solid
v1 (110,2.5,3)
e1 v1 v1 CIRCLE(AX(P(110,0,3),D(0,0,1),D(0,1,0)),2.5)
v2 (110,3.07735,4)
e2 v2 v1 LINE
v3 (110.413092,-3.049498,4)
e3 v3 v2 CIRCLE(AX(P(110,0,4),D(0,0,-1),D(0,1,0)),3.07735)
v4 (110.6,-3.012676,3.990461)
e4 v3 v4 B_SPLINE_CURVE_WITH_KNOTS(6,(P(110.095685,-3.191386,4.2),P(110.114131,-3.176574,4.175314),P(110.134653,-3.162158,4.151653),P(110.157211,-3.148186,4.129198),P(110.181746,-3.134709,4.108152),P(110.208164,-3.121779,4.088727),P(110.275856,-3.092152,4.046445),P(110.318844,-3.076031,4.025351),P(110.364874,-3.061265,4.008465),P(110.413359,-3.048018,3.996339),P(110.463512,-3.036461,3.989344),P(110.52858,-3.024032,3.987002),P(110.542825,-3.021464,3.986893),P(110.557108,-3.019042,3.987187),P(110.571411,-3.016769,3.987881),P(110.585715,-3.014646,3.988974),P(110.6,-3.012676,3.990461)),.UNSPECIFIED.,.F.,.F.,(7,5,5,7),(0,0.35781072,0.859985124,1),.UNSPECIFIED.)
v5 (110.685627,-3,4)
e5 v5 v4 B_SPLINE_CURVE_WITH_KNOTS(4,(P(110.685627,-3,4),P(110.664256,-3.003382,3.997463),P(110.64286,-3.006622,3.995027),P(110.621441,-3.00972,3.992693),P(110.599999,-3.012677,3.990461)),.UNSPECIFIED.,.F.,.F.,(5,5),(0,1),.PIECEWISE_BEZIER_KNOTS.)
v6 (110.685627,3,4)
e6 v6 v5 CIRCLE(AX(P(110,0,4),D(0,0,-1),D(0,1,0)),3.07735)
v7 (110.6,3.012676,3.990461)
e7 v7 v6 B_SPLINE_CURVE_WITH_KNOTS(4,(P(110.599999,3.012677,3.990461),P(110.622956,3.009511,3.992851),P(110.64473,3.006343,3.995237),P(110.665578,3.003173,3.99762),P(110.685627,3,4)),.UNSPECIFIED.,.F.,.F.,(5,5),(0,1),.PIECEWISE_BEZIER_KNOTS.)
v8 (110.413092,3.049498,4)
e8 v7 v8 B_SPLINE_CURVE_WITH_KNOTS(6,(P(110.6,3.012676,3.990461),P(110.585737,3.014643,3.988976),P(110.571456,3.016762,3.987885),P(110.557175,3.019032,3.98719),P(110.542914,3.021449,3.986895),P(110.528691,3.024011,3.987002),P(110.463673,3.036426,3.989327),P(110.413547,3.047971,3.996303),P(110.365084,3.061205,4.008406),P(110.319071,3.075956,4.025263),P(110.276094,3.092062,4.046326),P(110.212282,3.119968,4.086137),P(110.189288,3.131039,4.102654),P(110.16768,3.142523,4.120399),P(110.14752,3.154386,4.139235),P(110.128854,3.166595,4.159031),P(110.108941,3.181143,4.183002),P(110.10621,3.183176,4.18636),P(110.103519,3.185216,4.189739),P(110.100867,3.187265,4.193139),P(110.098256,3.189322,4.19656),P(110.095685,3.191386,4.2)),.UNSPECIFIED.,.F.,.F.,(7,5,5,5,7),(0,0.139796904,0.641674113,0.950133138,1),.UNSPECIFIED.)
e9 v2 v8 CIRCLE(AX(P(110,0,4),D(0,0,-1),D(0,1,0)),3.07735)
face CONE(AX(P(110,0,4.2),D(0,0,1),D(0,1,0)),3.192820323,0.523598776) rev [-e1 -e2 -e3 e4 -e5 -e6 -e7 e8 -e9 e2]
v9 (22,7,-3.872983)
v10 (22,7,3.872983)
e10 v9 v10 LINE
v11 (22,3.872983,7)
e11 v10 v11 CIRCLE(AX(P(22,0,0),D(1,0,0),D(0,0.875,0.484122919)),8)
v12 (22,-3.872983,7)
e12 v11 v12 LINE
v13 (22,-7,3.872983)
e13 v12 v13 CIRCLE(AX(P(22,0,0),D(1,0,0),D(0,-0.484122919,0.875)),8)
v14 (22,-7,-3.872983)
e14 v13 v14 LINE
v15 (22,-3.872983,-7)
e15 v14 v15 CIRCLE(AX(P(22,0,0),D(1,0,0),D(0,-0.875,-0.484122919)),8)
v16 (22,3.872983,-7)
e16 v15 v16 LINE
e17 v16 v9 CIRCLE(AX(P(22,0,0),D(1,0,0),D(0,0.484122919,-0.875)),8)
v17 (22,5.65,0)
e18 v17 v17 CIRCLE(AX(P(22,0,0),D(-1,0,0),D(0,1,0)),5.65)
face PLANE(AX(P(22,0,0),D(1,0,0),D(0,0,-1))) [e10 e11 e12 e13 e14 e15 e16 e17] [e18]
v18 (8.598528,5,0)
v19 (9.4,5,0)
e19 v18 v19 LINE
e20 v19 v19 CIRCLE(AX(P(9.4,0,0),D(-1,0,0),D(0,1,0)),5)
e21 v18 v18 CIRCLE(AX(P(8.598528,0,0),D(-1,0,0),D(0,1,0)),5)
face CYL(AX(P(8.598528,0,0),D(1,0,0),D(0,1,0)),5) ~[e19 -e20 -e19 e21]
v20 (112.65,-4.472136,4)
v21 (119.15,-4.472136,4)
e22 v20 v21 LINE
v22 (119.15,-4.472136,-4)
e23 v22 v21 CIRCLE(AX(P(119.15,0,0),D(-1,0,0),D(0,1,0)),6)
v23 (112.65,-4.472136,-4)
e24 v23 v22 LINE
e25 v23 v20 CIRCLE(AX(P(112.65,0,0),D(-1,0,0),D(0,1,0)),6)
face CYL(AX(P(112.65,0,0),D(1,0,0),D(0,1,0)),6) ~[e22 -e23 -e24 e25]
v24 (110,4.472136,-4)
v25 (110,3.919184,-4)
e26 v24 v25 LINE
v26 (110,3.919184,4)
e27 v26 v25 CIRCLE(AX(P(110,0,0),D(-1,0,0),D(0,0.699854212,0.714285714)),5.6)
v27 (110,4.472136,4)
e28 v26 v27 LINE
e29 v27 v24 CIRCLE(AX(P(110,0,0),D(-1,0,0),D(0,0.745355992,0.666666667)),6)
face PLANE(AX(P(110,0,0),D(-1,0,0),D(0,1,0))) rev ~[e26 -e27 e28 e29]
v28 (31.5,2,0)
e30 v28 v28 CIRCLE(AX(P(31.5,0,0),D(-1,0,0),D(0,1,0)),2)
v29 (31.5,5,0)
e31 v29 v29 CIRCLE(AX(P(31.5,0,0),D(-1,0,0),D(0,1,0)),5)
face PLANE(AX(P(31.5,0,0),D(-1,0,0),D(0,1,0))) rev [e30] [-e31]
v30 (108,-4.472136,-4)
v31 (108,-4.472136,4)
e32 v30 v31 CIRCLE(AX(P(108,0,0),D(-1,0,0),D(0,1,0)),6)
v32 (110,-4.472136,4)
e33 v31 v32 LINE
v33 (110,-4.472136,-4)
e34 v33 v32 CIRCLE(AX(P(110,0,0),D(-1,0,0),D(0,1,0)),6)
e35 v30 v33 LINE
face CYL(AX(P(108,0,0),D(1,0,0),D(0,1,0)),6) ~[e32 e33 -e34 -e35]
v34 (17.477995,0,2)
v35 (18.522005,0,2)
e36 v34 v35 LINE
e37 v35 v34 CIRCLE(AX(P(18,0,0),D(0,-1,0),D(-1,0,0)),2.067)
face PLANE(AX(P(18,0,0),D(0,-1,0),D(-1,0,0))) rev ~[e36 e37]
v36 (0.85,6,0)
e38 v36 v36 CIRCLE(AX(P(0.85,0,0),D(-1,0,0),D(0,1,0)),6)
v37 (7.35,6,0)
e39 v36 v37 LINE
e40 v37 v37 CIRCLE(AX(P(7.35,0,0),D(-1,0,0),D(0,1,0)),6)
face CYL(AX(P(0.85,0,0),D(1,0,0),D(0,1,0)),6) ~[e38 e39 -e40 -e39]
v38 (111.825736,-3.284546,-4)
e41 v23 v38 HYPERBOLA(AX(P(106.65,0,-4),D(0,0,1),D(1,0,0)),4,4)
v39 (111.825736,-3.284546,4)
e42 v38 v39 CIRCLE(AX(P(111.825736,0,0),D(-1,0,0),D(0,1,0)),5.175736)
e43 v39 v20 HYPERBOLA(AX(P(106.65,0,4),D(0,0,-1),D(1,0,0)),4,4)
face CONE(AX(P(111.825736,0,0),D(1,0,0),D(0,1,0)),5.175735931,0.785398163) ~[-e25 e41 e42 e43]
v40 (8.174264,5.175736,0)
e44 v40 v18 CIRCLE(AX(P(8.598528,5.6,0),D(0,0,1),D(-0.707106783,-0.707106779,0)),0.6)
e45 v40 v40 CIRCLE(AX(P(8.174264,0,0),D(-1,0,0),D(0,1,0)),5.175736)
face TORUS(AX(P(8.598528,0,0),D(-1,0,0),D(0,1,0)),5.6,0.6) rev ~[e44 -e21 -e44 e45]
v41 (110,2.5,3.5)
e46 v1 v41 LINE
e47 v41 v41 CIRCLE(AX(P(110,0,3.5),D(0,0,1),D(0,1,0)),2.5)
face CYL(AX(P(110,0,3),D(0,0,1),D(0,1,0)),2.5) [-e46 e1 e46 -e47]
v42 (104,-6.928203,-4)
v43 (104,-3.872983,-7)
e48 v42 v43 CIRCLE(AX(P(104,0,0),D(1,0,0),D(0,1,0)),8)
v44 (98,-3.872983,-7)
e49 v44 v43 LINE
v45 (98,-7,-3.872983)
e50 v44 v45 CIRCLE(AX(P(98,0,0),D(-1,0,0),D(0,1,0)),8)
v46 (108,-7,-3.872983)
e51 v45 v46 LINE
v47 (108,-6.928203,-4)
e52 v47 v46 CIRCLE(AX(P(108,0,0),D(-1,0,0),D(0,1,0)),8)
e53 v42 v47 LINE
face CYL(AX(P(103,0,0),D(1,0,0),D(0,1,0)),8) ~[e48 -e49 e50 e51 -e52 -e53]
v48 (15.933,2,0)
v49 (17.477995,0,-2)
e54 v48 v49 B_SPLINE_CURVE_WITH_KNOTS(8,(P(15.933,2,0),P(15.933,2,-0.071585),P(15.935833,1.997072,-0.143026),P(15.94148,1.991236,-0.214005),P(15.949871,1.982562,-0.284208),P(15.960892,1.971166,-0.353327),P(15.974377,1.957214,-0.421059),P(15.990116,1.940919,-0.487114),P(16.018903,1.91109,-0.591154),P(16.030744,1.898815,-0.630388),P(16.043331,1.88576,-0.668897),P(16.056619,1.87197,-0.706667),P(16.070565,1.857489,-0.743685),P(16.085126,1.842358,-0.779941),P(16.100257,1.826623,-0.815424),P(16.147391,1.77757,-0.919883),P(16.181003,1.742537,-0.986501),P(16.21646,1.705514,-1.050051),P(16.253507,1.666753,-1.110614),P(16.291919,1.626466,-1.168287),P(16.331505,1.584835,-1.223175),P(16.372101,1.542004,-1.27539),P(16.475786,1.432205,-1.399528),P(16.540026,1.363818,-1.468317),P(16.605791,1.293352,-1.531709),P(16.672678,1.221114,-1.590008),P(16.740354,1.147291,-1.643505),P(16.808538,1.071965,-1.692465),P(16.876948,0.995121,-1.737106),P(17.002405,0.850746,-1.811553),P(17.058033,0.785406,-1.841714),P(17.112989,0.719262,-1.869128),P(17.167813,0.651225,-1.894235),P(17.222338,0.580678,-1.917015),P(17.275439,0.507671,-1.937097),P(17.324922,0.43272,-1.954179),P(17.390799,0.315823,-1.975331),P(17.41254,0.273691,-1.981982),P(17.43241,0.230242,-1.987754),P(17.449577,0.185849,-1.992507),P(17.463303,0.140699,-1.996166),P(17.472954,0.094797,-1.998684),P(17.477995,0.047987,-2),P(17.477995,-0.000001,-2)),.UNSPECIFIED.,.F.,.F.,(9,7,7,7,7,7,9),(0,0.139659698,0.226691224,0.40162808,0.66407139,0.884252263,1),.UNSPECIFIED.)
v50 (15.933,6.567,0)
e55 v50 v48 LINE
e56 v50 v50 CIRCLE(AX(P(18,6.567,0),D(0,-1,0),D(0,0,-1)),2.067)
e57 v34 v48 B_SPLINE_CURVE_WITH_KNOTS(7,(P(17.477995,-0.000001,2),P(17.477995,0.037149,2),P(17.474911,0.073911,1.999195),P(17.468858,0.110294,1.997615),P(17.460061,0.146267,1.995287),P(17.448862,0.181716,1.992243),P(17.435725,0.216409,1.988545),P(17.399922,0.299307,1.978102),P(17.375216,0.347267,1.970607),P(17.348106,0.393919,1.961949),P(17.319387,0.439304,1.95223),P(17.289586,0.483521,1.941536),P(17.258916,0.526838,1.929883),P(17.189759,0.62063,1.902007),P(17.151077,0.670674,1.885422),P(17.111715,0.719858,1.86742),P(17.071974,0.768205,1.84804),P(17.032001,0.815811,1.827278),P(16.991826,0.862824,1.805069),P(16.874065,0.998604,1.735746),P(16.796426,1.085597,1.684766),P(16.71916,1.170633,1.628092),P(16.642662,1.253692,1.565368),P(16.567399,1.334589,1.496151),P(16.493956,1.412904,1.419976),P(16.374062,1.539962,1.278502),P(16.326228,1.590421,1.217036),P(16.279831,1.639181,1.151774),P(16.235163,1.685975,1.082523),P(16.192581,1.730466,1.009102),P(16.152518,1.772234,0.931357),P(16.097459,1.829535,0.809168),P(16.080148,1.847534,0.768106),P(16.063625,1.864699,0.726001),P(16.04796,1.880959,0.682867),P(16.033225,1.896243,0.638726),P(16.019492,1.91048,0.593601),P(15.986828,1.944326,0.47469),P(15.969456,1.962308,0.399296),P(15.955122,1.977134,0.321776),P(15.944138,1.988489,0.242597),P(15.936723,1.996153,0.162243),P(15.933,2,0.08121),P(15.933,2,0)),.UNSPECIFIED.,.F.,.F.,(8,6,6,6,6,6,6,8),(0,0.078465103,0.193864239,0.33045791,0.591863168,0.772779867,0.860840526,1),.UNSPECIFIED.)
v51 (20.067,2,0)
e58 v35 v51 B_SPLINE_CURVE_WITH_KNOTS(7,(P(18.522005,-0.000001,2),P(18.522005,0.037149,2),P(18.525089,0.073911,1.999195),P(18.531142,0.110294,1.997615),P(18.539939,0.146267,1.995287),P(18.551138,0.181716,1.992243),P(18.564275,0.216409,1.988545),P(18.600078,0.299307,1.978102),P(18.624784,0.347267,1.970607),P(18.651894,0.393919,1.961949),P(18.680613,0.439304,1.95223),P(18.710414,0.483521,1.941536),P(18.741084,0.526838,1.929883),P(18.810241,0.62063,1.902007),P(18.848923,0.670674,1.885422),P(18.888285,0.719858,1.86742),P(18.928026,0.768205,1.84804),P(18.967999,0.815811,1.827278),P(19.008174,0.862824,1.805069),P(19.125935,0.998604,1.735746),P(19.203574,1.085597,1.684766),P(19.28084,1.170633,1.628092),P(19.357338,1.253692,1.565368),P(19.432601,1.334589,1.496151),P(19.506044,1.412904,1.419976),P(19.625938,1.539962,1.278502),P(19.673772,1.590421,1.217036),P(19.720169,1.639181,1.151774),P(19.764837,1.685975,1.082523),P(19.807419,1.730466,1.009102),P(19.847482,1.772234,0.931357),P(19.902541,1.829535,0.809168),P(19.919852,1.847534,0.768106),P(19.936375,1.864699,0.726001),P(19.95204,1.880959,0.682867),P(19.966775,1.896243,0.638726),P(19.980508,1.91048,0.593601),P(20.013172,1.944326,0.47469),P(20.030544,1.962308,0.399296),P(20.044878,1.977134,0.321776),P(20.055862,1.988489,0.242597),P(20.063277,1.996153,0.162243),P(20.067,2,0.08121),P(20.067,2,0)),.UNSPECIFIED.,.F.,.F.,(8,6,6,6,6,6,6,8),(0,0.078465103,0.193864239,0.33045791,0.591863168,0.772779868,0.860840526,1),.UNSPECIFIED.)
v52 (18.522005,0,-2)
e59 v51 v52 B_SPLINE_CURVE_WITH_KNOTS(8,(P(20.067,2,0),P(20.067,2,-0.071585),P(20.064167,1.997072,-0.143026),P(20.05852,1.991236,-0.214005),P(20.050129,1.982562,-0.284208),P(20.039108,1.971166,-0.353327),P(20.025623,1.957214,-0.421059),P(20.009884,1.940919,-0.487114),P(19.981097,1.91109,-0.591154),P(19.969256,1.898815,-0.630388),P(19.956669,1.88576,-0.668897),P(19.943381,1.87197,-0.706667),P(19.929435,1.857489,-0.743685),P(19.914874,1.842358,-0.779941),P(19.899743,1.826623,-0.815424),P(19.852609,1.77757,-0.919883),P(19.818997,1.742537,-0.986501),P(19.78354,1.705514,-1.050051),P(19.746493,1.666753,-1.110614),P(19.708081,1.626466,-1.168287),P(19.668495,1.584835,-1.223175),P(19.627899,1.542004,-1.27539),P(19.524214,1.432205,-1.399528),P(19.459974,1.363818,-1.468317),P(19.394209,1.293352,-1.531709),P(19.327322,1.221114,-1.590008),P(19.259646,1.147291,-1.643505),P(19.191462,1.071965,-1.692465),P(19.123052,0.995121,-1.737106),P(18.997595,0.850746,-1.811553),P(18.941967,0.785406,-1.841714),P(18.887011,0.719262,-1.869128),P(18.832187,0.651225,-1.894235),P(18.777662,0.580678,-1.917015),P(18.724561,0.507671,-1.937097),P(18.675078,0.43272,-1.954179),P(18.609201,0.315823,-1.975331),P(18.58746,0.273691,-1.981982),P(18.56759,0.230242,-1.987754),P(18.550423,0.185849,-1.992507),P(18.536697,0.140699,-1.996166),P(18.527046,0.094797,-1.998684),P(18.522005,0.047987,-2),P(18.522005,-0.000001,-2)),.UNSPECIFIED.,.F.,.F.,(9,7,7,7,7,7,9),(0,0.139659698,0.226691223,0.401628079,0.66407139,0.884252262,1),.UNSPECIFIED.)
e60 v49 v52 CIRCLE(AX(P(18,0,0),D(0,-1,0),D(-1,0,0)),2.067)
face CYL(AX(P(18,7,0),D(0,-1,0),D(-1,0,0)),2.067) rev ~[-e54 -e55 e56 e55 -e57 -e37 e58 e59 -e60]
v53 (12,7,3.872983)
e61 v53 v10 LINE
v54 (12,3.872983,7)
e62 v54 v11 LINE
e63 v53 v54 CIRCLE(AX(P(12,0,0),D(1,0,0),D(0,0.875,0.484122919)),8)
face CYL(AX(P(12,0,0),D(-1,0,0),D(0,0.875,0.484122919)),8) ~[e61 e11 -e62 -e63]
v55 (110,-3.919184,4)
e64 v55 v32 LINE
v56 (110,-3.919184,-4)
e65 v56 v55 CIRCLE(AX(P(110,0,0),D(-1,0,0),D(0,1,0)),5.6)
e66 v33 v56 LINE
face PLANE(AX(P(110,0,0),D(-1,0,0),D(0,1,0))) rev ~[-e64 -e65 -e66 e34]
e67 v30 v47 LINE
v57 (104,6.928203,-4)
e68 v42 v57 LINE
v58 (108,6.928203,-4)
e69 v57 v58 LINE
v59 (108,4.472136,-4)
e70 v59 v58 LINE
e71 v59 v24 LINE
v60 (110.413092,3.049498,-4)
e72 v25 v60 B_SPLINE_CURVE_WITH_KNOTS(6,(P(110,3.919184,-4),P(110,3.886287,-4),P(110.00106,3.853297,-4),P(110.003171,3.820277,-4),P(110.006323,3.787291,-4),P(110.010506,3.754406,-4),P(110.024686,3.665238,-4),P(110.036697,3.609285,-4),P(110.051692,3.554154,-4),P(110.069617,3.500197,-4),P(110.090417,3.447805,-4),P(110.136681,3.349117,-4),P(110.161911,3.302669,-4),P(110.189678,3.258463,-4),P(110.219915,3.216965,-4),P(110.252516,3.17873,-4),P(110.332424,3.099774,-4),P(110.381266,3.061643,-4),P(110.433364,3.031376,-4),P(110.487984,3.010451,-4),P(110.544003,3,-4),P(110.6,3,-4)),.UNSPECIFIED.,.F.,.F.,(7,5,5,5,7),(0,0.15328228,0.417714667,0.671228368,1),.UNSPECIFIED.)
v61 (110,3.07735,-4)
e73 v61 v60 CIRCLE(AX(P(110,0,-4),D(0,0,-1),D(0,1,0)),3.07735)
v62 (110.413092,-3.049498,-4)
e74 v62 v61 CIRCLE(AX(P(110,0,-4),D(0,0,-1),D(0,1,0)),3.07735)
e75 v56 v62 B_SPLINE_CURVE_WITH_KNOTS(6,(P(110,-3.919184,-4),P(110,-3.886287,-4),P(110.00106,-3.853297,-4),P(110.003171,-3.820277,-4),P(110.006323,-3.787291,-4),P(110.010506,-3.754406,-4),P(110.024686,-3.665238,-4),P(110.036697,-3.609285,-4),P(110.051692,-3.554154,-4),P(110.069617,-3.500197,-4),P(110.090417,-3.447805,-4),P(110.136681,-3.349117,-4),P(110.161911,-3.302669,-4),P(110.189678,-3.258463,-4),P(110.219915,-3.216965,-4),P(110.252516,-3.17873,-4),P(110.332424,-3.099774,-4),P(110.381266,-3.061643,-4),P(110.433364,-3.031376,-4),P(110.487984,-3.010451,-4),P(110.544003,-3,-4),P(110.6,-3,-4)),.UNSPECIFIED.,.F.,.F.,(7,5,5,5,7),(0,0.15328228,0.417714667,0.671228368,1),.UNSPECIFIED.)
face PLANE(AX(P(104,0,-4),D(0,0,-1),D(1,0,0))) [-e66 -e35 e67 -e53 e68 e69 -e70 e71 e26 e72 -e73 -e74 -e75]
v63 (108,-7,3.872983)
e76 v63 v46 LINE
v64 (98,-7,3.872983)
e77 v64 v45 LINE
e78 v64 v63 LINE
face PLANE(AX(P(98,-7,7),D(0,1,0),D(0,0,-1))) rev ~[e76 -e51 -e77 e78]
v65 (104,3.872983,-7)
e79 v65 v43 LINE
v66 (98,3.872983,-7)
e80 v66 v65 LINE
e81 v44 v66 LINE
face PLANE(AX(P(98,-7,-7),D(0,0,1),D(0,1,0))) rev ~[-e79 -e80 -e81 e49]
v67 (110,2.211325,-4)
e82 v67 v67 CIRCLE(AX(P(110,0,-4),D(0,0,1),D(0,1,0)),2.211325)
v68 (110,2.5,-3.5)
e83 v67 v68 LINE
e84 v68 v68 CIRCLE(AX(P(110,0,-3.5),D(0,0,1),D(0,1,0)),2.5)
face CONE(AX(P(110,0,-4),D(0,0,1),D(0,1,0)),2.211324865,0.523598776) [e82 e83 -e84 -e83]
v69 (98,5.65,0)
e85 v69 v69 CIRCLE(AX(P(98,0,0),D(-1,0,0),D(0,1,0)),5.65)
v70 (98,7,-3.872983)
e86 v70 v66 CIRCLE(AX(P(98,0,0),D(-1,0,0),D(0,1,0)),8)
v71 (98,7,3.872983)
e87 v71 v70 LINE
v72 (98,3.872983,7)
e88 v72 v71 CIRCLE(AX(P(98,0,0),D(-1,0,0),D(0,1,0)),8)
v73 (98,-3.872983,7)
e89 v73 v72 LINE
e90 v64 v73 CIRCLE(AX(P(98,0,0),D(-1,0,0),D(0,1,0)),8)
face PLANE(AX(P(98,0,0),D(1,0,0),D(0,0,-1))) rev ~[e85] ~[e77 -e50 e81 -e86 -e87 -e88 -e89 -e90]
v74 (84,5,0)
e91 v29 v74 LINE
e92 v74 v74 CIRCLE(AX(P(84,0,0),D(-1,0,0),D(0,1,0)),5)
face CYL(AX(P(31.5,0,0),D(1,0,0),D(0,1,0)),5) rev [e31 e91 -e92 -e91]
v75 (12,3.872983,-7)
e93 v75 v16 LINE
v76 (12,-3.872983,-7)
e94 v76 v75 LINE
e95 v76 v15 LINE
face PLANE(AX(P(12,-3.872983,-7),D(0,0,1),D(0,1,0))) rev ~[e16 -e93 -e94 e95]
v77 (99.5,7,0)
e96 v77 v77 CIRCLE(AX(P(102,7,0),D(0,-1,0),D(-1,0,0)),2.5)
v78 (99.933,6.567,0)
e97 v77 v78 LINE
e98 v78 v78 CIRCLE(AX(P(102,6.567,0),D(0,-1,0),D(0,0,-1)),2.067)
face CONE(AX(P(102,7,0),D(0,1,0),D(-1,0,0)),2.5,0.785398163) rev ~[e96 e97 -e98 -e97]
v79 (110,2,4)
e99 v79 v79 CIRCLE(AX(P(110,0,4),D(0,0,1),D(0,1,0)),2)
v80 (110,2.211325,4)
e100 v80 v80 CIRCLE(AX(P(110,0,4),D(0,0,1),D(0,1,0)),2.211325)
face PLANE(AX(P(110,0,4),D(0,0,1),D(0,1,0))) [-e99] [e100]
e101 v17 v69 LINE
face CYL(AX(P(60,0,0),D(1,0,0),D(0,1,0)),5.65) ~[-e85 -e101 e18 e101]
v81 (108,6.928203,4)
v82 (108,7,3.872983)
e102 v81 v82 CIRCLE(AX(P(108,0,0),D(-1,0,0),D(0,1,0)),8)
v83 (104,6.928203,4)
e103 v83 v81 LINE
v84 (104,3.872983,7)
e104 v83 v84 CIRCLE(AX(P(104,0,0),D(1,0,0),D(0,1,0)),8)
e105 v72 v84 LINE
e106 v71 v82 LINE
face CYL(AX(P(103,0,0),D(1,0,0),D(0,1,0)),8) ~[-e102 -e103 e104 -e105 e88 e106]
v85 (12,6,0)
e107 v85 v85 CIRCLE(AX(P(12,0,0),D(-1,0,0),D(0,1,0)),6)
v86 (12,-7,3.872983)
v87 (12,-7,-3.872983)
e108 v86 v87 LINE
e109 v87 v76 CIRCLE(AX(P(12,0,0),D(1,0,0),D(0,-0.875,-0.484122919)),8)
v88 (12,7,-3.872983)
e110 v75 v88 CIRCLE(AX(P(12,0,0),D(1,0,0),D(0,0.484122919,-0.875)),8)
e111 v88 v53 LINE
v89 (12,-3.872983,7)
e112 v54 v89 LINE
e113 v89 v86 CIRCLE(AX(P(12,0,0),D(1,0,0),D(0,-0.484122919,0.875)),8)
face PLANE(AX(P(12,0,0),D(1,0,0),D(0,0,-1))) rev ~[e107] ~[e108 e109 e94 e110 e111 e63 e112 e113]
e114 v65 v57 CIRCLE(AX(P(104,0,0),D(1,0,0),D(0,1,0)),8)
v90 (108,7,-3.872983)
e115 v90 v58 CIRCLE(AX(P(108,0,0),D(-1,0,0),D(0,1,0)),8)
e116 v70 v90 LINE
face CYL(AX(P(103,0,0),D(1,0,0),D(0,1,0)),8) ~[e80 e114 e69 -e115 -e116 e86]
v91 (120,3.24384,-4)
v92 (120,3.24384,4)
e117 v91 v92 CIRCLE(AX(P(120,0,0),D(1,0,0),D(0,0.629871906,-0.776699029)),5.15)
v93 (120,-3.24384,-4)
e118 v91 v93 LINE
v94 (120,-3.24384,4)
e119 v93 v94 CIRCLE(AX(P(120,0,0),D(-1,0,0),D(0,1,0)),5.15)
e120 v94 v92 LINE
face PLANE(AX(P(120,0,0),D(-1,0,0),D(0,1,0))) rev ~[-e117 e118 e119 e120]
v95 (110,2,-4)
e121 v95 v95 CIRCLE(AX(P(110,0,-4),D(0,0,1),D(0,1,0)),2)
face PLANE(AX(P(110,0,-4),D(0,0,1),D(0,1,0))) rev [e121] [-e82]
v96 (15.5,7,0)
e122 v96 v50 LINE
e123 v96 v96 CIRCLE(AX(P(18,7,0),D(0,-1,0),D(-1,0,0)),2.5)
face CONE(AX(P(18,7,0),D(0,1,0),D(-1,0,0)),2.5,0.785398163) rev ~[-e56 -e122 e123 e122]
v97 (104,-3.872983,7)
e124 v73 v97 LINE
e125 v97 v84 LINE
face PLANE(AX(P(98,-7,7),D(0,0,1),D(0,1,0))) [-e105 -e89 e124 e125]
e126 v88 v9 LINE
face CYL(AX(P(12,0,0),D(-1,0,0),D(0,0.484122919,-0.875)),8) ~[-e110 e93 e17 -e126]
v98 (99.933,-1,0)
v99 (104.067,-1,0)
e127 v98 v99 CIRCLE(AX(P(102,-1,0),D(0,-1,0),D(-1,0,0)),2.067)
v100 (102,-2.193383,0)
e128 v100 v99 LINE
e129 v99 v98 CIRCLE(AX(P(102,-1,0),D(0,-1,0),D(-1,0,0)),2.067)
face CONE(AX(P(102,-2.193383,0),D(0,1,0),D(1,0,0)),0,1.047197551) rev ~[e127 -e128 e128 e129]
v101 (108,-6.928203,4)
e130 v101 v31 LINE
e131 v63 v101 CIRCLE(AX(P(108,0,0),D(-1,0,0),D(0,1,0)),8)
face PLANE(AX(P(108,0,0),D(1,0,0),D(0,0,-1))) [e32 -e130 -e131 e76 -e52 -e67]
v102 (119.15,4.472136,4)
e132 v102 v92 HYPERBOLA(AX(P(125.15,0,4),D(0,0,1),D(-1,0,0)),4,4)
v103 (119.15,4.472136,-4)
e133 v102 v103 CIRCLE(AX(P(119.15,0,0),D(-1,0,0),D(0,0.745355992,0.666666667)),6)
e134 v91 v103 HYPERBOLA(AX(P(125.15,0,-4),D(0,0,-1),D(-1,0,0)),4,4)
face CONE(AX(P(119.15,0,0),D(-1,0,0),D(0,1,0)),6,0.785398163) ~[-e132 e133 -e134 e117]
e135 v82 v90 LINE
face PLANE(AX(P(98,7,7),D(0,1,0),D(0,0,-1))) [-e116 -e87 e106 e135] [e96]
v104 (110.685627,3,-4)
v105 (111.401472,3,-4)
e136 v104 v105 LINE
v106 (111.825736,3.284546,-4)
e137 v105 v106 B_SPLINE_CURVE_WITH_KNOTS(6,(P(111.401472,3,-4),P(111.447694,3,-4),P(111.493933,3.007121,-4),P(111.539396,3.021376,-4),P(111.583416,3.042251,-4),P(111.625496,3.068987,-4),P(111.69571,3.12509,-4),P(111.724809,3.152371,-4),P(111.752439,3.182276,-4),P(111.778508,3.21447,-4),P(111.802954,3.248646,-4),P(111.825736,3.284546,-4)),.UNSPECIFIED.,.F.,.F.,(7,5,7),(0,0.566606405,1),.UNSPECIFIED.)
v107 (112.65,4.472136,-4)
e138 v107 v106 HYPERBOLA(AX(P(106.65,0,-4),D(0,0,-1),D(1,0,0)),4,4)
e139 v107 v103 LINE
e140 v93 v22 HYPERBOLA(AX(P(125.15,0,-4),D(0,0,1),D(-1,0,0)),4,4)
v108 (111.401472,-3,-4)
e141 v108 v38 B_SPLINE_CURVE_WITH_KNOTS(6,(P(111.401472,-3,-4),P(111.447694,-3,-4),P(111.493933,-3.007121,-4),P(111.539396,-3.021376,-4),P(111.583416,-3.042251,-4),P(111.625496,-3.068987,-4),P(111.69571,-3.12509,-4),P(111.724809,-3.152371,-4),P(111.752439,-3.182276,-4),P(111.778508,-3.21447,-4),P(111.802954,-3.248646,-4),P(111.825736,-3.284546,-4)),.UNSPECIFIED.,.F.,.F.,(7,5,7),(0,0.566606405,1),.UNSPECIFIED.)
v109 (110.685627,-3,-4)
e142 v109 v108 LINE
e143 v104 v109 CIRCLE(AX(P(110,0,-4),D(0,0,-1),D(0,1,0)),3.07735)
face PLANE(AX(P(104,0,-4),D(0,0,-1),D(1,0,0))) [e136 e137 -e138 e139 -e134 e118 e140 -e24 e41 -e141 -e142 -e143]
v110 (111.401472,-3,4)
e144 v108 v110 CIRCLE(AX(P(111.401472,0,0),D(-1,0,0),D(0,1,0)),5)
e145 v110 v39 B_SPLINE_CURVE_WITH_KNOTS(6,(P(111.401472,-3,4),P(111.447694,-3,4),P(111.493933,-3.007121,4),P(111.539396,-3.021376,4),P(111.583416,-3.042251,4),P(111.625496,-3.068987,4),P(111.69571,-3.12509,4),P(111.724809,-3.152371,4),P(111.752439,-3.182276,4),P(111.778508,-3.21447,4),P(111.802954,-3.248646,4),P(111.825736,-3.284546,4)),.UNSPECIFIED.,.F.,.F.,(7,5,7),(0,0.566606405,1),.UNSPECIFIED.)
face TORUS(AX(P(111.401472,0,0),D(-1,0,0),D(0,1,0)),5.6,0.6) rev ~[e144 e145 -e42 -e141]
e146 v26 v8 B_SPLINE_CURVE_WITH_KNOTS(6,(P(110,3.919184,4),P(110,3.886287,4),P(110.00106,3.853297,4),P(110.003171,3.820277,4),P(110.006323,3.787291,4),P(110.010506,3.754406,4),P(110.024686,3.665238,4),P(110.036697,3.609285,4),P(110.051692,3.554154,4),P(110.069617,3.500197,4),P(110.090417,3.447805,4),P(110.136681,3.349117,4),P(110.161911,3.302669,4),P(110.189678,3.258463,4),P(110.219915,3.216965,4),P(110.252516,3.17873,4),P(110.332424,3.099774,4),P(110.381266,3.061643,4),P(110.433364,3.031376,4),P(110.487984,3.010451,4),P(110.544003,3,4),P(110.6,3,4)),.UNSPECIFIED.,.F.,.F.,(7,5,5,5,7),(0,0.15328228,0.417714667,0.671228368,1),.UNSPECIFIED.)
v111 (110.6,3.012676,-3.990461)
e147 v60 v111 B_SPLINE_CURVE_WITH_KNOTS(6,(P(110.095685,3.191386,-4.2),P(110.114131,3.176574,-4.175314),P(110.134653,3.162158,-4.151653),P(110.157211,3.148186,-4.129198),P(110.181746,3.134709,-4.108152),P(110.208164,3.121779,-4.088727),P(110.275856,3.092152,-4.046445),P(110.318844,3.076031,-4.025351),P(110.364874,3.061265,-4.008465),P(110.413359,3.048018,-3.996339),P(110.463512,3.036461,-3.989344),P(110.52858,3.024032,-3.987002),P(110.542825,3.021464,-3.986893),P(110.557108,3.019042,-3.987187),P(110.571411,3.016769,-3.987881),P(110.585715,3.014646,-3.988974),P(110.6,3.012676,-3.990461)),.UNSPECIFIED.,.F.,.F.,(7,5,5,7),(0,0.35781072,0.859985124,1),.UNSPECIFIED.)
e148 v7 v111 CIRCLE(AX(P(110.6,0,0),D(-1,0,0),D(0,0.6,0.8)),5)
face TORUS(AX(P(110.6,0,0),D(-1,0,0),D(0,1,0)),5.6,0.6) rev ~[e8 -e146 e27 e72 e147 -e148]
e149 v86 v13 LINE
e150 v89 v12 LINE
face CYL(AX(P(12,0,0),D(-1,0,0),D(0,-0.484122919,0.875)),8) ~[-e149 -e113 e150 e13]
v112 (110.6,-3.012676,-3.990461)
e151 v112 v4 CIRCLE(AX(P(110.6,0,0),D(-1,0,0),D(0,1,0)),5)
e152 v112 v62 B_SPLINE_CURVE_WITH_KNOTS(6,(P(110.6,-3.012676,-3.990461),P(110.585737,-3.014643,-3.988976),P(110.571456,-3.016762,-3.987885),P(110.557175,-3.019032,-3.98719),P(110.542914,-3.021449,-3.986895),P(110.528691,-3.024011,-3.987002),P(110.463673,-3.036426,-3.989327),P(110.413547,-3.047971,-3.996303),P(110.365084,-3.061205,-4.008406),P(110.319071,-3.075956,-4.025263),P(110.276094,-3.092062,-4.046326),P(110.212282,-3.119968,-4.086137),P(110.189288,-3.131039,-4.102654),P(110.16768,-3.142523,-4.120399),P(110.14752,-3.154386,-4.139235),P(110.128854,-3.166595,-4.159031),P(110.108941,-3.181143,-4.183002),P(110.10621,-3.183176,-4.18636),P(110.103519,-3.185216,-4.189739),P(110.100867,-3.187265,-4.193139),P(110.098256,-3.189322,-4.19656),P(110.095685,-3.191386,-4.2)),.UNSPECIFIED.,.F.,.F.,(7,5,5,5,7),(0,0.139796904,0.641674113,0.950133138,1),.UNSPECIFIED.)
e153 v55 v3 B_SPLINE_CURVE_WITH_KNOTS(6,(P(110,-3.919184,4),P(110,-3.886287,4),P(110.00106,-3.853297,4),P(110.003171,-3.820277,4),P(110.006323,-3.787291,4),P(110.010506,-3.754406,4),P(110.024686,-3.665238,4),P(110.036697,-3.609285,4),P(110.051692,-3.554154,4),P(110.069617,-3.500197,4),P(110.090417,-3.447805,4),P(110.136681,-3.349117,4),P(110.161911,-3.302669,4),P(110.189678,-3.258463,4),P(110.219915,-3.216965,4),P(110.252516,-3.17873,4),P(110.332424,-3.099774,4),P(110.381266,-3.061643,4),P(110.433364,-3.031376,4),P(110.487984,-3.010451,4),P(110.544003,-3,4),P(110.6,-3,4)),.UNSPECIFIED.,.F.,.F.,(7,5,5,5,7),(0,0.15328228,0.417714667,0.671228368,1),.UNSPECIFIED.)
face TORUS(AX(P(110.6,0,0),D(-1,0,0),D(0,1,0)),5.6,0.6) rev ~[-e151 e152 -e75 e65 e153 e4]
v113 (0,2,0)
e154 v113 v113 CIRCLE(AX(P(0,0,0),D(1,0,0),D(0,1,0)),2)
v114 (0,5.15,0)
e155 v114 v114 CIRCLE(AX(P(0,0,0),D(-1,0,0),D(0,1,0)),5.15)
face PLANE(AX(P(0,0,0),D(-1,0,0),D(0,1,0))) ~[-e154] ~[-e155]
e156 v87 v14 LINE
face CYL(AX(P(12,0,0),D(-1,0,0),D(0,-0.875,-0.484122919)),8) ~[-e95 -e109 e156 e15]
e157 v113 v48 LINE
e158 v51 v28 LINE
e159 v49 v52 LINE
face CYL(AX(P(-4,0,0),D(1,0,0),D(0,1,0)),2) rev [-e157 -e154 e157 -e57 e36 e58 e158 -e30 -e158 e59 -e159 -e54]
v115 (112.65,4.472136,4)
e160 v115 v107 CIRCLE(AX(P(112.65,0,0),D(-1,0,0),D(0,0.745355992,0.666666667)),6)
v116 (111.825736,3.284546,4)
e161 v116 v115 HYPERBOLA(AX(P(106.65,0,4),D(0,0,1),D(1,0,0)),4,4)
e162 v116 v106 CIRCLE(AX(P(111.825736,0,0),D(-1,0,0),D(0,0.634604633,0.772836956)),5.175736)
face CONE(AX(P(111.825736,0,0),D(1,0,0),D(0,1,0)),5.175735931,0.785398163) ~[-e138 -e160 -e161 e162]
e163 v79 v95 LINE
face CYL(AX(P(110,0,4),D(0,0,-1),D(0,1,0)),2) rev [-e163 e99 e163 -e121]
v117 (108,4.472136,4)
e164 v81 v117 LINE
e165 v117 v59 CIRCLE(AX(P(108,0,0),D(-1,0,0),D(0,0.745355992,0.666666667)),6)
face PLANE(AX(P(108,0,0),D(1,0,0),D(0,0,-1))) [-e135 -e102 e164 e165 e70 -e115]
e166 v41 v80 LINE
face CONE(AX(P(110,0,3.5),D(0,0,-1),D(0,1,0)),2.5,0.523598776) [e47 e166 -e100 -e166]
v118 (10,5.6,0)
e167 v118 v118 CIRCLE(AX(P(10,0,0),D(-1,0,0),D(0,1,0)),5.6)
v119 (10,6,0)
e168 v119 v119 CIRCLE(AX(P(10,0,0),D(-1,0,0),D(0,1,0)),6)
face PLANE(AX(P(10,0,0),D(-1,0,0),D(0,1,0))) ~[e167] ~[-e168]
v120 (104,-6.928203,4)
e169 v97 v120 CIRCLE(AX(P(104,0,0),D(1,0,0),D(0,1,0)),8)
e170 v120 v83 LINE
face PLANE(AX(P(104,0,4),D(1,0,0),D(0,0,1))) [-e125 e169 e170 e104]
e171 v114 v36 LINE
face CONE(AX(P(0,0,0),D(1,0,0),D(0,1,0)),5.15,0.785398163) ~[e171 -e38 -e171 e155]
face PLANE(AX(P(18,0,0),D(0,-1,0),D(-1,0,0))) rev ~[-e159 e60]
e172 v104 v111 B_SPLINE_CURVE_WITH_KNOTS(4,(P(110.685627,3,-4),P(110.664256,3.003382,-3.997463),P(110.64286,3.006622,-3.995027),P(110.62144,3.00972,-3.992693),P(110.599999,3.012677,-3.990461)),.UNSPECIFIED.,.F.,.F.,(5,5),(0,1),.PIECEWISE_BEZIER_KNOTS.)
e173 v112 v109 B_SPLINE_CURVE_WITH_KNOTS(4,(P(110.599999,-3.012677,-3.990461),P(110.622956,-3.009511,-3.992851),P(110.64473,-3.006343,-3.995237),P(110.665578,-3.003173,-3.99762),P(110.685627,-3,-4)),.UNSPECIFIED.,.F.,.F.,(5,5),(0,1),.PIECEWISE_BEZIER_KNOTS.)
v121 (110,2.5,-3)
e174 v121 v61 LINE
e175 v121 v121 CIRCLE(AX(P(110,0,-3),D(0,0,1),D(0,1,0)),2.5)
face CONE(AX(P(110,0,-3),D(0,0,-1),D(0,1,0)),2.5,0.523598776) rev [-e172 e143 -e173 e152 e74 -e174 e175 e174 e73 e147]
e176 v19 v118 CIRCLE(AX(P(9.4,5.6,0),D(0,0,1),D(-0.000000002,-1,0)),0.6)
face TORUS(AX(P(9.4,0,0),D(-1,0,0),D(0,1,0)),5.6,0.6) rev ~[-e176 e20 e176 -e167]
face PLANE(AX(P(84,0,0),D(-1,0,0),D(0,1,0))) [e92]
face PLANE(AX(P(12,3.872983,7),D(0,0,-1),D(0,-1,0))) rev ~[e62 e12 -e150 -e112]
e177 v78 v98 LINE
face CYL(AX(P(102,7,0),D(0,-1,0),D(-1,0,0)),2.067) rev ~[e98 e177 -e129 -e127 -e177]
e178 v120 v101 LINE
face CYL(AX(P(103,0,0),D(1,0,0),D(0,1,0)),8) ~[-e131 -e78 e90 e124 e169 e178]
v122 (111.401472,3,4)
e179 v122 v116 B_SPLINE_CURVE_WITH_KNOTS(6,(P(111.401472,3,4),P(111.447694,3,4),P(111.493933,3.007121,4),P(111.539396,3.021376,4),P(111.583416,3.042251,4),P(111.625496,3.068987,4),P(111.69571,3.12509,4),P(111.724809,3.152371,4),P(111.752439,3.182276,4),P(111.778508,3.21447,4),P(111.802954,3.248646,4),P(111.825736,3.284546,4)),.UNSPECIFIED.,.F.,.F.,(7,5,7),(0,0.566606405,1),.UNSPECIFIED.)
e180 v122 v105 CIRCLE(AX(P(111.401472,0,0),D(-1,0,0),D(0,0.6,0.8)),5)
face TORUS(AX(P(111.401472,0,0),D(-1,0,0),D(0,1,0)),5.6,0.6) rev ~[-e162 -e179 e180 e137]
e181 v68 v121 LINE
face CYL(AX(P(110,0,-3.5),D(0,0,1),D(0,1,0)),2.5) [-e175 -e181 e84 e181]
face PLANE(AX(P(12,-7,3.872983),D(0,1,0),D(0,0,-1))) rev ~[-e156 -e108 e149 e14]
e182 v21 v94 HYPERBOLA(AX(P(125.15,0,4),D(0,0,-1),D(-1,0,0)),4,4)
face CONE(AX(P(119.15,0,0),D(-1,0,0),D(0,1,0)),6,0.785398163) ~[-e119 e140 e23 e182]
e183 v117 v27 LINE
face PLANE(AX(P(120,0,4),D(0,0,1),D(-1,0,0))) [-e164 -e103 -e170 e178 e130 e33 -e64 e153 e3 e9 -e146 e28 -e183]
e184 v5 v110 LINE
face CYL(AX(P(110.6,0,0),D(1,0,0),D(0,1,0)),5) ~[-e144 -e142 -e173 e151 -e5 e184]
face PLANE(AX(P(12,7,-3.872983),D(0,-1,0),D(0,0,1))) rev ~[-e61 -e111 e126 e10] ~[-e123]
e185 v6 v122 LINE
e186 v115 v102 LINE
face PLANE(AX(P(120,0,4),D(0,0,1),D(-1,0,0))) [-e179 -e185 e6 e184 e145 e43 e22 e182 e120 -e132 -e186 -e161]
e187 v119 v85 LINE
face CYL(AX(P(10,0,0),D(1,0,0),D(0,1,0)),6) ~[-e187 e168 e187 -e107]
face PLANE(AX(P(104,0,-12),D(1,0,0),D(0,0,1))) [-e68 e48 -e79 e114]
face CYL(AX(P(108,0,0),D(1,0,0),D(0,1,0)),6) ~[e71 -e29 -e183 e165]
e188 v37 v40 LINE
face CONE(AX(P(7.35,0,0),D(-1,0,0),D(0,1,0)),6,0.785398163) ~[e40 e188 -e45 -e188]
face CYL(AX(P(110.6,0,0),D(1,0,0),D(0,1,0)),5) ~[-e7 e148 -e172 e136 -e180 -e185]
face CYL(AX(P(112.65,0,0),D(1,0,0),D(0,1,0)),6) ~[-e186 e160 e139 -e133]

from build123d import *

# Parameters (mm, degrees)
BOSS_EXTRUDE1_DEPTH     = 10
SKETCH3_W               = 76
SKETCH3_H               = 5.65
SKETCH4_W               = 14
SKETCH4_H               = 14
BOSS_EXTRUDE2_DEPTH     = 10
SKETCH5_W               = 10
SKETCH5_H               = 10
CUT_EXTRUDE1_DEPTH      = 8
CUT_EXTRUDE1_DEPTH_BACK = 8
HOLE1_D                 = 4.134
HOLE1_DEPTH             = 7
HOLE1_CSINK_D           = 5
HOLE1_CSINK_ANGLE       = 90
HOLE2_D                 = 4.134
HOLE2_DEPTH             = 8
HOLE2_CSINK_D           = 5
HOLE2_CSINK_ANGLE       = 90
HOLE2_TIP               = 1.193383006


with BuildPart() as part:
    # Sketch1 → Revolve1 (revolve)
    with BuildSketch(Plane.XY):
        with BuildLine():
            Line((0, 0), (0, 5.15))
            Line((0, 5.15), (0.85, 6))
            Line((0.85, 6), (7.35, 6))
            Line((7.35, 6), (8.174264069, 5.175735931))
            ThreePointArc((8.174264069, 5.175735931), (8.368918078, 5.04567228), (8.598528137, 5))
            Line((8.598528137, 5), (9.4, 5))
            ThreePointArc((9.4, 5), (9.824264069, 5.175735931), (10, 5.6))
            Line((10, 5.6), (10, 6))
            Line((10, 6), (12, 6))
            Line((12, 6), (12, 0))
            Line((12, 0), (0, 0))
        make_face()
    revolve(axis=Axis((12, 0, 0), (-1, 0, 0)))

    # Sketch2 → Boss-Extrude1 (add)
    with BuildSketch(Plane(origin=(12, 0, 0), x_dir=(0, 0, -1), z_dir=(1, 0, 0))):
        with BuildLine():
            Line((-3.872983346, -7), (3.872983346, -7))
            ThreePointArc((3.872983346, -7), (5.656854249, -5.656854249), (7, -3.872983346))
            Line((7, -3.872983346), (7, 3.872983346))
            ThreePointArc((7, 3.872983346), (5.656854249, 5.656854249), (3.872983346, 7))
            Line((3.872983346, 7), (-3.872983346, 7))
            ThreePointArc((-3.872983346, 7), (-5.656854249, 5.656854249), (-7, 3.872983346))
            Line((-7, 3.872983346), (-7, -3.872983346))
            ThreePointArc((-7, -3.872983346), (-5.656854249, -5.656854249), (-3.872983346, -7))
        make_face()
    extrude(amount=BOSS_EXTRUDE1_DEPTH)

    # Sketch3 → Revolve2 (revolve)
    with BuildSketch(Plane.XY):
        with Locations((60, 2.825)):
            Rectangle(SKETCH3_W, SKETCH3_H)
    revolve(axis=Axis((98, 0, 0), (-1, 0, 0)))

    # Sketch4 → Boss-Extrude2 (add)
    with BuildSketch(Plane(origin=(98, 0, 0), x_dir=(0, 0, -1), z_dir=(1, 0, 0))):
        Rectangle(SKETCH4_W, SKETCH4_H)
    extrude(amount=BOSS_EXTRUDE2_DEPTH)

    # Sketch5 → Cut-Revolve1 (revolve, cut)
    with BuildSketch(Plane.XY):
        with Locations((103, 13)):
            Rectangle(SKETCH5_W, SKETCH5_H)
    revolve(axis=Axis((108, 0, 0), (-1, 0, 0)), mode=Mode.SUBTRACT)

    # Sketch6 → Revolve3 (revolve)
    with BuildSketch(Plane.XY):
        with BuildLine():
            Line((108, 0), (108, 6))
            Line((108, 6), (110, 6))
            Line((110, 6), (110, 5.6))
            ThreePointArc((110, 5.6), (110.175735931, 5.175735931), (110.6, 5))
            Line((110.6, 5), (111.401471863, 5))
            ThreePointArc((111.401471863, 5), (111.631081922, 5.04567228), (111.825735931, 5.175735931))
            Line((111.825735931, 5.175735931), (112.65, 6))
            Line((112.65, 6), (119.15, 6))
            Line((119.15, 6), (120, 5.15))
            Line((120, 5.15), (120, 0))
            Line((120, 0), (108, 0))
        make_face()
    revolve(axis=Axis((120, 0, 0), (-1, 0, 0)))

    # Sketch7 → Cut-Extrude1 (cut, two sides: drawn at the far end of the back side and taken through both)
    with BuildSketch(Plane(origin=(0, 0, 0), x_dir=(1, 0, 0), z_dir=(0, 1, 0)).offset(-CUT_EXTRUDE1_DEPTH_BACK)):
        Polygon((104, 12), (104, 4), (120, 4), (120, -4), (104, -4), (104, -12), (128, -12), (128, 12), align=None)
    extrude(amount=CUT_EXTRUDE1_DEPTH + CUT_EXTRUDE1_DEPTH_BACK, mode=Mode.SUBTRACT)

    # Sketch8 → Cut-Revolve2 (revolve, cut)
    with BuildSketch(Plane(origin=(110, 0, 0), x_dir=(0, 0, -1), z_dir=(1, 0, 0))):
        Polygon((-4.2, 0), (-4.2, 3.192820323), (-3, 2.5), (-3.5, 2.5), (-4, 2.211324865), (-4, 2), (4, 2), (4, 2.211324865), (3.5, 2.5), (3, 2.5), (4.2, 3.192820323), (4.2, 0), align=None)
    revolve(axis=Axis((110, 0, -4), (0, 0, 1)), mode=Mode.SUBTRACT)

    # Hole1
    with Locations(Plane(origin=(0, 7, 0), x_dir=(1, 0, 0), z_dir=(0, 1, 0))):
        with Locations((18, 0)):
            CounterSinkHole(HOLE1_D / 2, HOLE1_CSINK_D / 2, depth=HOLE1_DEPTH, counter_sink_angle=HOLE1_CSINK_ANGLE)

    # Hole2
    with Locations(Plane(origin=(0, 7, 0), x_dir=(1, 0, 0), z_dir=(0, 1, 0))):
        with Locations((102, 0)):
            CounterSinkHole(HOLE2_D / 2, HOLE2_CSINK_D / 2, depth=HOLE2_DEPTH, counter_sink_angle=HOLE2_CSINK_ANGLE)
            with Locations((0, 0, -(HOLE2_DEPTH + HOLE2_TIP / 2))):  # 120° drill point
                Cone(0, HOLE2_D / 2, HOLE2_TIP, mode=Mode.SUBTRACT)

    # Sketch13 → Cut-Revolve3 (revolve, cut)
    with BuildSketch(Plane.XY):
        Polygon((-4, 0), (-4, 2), (31.5, 2), (31.5, 5), (84, 5), (84, 0), align=None)
    revolve(axis=Axis((84, 0, 0), (-1, 0, 0)), mode=Mode.SUBTRACT)


solid = part.part
